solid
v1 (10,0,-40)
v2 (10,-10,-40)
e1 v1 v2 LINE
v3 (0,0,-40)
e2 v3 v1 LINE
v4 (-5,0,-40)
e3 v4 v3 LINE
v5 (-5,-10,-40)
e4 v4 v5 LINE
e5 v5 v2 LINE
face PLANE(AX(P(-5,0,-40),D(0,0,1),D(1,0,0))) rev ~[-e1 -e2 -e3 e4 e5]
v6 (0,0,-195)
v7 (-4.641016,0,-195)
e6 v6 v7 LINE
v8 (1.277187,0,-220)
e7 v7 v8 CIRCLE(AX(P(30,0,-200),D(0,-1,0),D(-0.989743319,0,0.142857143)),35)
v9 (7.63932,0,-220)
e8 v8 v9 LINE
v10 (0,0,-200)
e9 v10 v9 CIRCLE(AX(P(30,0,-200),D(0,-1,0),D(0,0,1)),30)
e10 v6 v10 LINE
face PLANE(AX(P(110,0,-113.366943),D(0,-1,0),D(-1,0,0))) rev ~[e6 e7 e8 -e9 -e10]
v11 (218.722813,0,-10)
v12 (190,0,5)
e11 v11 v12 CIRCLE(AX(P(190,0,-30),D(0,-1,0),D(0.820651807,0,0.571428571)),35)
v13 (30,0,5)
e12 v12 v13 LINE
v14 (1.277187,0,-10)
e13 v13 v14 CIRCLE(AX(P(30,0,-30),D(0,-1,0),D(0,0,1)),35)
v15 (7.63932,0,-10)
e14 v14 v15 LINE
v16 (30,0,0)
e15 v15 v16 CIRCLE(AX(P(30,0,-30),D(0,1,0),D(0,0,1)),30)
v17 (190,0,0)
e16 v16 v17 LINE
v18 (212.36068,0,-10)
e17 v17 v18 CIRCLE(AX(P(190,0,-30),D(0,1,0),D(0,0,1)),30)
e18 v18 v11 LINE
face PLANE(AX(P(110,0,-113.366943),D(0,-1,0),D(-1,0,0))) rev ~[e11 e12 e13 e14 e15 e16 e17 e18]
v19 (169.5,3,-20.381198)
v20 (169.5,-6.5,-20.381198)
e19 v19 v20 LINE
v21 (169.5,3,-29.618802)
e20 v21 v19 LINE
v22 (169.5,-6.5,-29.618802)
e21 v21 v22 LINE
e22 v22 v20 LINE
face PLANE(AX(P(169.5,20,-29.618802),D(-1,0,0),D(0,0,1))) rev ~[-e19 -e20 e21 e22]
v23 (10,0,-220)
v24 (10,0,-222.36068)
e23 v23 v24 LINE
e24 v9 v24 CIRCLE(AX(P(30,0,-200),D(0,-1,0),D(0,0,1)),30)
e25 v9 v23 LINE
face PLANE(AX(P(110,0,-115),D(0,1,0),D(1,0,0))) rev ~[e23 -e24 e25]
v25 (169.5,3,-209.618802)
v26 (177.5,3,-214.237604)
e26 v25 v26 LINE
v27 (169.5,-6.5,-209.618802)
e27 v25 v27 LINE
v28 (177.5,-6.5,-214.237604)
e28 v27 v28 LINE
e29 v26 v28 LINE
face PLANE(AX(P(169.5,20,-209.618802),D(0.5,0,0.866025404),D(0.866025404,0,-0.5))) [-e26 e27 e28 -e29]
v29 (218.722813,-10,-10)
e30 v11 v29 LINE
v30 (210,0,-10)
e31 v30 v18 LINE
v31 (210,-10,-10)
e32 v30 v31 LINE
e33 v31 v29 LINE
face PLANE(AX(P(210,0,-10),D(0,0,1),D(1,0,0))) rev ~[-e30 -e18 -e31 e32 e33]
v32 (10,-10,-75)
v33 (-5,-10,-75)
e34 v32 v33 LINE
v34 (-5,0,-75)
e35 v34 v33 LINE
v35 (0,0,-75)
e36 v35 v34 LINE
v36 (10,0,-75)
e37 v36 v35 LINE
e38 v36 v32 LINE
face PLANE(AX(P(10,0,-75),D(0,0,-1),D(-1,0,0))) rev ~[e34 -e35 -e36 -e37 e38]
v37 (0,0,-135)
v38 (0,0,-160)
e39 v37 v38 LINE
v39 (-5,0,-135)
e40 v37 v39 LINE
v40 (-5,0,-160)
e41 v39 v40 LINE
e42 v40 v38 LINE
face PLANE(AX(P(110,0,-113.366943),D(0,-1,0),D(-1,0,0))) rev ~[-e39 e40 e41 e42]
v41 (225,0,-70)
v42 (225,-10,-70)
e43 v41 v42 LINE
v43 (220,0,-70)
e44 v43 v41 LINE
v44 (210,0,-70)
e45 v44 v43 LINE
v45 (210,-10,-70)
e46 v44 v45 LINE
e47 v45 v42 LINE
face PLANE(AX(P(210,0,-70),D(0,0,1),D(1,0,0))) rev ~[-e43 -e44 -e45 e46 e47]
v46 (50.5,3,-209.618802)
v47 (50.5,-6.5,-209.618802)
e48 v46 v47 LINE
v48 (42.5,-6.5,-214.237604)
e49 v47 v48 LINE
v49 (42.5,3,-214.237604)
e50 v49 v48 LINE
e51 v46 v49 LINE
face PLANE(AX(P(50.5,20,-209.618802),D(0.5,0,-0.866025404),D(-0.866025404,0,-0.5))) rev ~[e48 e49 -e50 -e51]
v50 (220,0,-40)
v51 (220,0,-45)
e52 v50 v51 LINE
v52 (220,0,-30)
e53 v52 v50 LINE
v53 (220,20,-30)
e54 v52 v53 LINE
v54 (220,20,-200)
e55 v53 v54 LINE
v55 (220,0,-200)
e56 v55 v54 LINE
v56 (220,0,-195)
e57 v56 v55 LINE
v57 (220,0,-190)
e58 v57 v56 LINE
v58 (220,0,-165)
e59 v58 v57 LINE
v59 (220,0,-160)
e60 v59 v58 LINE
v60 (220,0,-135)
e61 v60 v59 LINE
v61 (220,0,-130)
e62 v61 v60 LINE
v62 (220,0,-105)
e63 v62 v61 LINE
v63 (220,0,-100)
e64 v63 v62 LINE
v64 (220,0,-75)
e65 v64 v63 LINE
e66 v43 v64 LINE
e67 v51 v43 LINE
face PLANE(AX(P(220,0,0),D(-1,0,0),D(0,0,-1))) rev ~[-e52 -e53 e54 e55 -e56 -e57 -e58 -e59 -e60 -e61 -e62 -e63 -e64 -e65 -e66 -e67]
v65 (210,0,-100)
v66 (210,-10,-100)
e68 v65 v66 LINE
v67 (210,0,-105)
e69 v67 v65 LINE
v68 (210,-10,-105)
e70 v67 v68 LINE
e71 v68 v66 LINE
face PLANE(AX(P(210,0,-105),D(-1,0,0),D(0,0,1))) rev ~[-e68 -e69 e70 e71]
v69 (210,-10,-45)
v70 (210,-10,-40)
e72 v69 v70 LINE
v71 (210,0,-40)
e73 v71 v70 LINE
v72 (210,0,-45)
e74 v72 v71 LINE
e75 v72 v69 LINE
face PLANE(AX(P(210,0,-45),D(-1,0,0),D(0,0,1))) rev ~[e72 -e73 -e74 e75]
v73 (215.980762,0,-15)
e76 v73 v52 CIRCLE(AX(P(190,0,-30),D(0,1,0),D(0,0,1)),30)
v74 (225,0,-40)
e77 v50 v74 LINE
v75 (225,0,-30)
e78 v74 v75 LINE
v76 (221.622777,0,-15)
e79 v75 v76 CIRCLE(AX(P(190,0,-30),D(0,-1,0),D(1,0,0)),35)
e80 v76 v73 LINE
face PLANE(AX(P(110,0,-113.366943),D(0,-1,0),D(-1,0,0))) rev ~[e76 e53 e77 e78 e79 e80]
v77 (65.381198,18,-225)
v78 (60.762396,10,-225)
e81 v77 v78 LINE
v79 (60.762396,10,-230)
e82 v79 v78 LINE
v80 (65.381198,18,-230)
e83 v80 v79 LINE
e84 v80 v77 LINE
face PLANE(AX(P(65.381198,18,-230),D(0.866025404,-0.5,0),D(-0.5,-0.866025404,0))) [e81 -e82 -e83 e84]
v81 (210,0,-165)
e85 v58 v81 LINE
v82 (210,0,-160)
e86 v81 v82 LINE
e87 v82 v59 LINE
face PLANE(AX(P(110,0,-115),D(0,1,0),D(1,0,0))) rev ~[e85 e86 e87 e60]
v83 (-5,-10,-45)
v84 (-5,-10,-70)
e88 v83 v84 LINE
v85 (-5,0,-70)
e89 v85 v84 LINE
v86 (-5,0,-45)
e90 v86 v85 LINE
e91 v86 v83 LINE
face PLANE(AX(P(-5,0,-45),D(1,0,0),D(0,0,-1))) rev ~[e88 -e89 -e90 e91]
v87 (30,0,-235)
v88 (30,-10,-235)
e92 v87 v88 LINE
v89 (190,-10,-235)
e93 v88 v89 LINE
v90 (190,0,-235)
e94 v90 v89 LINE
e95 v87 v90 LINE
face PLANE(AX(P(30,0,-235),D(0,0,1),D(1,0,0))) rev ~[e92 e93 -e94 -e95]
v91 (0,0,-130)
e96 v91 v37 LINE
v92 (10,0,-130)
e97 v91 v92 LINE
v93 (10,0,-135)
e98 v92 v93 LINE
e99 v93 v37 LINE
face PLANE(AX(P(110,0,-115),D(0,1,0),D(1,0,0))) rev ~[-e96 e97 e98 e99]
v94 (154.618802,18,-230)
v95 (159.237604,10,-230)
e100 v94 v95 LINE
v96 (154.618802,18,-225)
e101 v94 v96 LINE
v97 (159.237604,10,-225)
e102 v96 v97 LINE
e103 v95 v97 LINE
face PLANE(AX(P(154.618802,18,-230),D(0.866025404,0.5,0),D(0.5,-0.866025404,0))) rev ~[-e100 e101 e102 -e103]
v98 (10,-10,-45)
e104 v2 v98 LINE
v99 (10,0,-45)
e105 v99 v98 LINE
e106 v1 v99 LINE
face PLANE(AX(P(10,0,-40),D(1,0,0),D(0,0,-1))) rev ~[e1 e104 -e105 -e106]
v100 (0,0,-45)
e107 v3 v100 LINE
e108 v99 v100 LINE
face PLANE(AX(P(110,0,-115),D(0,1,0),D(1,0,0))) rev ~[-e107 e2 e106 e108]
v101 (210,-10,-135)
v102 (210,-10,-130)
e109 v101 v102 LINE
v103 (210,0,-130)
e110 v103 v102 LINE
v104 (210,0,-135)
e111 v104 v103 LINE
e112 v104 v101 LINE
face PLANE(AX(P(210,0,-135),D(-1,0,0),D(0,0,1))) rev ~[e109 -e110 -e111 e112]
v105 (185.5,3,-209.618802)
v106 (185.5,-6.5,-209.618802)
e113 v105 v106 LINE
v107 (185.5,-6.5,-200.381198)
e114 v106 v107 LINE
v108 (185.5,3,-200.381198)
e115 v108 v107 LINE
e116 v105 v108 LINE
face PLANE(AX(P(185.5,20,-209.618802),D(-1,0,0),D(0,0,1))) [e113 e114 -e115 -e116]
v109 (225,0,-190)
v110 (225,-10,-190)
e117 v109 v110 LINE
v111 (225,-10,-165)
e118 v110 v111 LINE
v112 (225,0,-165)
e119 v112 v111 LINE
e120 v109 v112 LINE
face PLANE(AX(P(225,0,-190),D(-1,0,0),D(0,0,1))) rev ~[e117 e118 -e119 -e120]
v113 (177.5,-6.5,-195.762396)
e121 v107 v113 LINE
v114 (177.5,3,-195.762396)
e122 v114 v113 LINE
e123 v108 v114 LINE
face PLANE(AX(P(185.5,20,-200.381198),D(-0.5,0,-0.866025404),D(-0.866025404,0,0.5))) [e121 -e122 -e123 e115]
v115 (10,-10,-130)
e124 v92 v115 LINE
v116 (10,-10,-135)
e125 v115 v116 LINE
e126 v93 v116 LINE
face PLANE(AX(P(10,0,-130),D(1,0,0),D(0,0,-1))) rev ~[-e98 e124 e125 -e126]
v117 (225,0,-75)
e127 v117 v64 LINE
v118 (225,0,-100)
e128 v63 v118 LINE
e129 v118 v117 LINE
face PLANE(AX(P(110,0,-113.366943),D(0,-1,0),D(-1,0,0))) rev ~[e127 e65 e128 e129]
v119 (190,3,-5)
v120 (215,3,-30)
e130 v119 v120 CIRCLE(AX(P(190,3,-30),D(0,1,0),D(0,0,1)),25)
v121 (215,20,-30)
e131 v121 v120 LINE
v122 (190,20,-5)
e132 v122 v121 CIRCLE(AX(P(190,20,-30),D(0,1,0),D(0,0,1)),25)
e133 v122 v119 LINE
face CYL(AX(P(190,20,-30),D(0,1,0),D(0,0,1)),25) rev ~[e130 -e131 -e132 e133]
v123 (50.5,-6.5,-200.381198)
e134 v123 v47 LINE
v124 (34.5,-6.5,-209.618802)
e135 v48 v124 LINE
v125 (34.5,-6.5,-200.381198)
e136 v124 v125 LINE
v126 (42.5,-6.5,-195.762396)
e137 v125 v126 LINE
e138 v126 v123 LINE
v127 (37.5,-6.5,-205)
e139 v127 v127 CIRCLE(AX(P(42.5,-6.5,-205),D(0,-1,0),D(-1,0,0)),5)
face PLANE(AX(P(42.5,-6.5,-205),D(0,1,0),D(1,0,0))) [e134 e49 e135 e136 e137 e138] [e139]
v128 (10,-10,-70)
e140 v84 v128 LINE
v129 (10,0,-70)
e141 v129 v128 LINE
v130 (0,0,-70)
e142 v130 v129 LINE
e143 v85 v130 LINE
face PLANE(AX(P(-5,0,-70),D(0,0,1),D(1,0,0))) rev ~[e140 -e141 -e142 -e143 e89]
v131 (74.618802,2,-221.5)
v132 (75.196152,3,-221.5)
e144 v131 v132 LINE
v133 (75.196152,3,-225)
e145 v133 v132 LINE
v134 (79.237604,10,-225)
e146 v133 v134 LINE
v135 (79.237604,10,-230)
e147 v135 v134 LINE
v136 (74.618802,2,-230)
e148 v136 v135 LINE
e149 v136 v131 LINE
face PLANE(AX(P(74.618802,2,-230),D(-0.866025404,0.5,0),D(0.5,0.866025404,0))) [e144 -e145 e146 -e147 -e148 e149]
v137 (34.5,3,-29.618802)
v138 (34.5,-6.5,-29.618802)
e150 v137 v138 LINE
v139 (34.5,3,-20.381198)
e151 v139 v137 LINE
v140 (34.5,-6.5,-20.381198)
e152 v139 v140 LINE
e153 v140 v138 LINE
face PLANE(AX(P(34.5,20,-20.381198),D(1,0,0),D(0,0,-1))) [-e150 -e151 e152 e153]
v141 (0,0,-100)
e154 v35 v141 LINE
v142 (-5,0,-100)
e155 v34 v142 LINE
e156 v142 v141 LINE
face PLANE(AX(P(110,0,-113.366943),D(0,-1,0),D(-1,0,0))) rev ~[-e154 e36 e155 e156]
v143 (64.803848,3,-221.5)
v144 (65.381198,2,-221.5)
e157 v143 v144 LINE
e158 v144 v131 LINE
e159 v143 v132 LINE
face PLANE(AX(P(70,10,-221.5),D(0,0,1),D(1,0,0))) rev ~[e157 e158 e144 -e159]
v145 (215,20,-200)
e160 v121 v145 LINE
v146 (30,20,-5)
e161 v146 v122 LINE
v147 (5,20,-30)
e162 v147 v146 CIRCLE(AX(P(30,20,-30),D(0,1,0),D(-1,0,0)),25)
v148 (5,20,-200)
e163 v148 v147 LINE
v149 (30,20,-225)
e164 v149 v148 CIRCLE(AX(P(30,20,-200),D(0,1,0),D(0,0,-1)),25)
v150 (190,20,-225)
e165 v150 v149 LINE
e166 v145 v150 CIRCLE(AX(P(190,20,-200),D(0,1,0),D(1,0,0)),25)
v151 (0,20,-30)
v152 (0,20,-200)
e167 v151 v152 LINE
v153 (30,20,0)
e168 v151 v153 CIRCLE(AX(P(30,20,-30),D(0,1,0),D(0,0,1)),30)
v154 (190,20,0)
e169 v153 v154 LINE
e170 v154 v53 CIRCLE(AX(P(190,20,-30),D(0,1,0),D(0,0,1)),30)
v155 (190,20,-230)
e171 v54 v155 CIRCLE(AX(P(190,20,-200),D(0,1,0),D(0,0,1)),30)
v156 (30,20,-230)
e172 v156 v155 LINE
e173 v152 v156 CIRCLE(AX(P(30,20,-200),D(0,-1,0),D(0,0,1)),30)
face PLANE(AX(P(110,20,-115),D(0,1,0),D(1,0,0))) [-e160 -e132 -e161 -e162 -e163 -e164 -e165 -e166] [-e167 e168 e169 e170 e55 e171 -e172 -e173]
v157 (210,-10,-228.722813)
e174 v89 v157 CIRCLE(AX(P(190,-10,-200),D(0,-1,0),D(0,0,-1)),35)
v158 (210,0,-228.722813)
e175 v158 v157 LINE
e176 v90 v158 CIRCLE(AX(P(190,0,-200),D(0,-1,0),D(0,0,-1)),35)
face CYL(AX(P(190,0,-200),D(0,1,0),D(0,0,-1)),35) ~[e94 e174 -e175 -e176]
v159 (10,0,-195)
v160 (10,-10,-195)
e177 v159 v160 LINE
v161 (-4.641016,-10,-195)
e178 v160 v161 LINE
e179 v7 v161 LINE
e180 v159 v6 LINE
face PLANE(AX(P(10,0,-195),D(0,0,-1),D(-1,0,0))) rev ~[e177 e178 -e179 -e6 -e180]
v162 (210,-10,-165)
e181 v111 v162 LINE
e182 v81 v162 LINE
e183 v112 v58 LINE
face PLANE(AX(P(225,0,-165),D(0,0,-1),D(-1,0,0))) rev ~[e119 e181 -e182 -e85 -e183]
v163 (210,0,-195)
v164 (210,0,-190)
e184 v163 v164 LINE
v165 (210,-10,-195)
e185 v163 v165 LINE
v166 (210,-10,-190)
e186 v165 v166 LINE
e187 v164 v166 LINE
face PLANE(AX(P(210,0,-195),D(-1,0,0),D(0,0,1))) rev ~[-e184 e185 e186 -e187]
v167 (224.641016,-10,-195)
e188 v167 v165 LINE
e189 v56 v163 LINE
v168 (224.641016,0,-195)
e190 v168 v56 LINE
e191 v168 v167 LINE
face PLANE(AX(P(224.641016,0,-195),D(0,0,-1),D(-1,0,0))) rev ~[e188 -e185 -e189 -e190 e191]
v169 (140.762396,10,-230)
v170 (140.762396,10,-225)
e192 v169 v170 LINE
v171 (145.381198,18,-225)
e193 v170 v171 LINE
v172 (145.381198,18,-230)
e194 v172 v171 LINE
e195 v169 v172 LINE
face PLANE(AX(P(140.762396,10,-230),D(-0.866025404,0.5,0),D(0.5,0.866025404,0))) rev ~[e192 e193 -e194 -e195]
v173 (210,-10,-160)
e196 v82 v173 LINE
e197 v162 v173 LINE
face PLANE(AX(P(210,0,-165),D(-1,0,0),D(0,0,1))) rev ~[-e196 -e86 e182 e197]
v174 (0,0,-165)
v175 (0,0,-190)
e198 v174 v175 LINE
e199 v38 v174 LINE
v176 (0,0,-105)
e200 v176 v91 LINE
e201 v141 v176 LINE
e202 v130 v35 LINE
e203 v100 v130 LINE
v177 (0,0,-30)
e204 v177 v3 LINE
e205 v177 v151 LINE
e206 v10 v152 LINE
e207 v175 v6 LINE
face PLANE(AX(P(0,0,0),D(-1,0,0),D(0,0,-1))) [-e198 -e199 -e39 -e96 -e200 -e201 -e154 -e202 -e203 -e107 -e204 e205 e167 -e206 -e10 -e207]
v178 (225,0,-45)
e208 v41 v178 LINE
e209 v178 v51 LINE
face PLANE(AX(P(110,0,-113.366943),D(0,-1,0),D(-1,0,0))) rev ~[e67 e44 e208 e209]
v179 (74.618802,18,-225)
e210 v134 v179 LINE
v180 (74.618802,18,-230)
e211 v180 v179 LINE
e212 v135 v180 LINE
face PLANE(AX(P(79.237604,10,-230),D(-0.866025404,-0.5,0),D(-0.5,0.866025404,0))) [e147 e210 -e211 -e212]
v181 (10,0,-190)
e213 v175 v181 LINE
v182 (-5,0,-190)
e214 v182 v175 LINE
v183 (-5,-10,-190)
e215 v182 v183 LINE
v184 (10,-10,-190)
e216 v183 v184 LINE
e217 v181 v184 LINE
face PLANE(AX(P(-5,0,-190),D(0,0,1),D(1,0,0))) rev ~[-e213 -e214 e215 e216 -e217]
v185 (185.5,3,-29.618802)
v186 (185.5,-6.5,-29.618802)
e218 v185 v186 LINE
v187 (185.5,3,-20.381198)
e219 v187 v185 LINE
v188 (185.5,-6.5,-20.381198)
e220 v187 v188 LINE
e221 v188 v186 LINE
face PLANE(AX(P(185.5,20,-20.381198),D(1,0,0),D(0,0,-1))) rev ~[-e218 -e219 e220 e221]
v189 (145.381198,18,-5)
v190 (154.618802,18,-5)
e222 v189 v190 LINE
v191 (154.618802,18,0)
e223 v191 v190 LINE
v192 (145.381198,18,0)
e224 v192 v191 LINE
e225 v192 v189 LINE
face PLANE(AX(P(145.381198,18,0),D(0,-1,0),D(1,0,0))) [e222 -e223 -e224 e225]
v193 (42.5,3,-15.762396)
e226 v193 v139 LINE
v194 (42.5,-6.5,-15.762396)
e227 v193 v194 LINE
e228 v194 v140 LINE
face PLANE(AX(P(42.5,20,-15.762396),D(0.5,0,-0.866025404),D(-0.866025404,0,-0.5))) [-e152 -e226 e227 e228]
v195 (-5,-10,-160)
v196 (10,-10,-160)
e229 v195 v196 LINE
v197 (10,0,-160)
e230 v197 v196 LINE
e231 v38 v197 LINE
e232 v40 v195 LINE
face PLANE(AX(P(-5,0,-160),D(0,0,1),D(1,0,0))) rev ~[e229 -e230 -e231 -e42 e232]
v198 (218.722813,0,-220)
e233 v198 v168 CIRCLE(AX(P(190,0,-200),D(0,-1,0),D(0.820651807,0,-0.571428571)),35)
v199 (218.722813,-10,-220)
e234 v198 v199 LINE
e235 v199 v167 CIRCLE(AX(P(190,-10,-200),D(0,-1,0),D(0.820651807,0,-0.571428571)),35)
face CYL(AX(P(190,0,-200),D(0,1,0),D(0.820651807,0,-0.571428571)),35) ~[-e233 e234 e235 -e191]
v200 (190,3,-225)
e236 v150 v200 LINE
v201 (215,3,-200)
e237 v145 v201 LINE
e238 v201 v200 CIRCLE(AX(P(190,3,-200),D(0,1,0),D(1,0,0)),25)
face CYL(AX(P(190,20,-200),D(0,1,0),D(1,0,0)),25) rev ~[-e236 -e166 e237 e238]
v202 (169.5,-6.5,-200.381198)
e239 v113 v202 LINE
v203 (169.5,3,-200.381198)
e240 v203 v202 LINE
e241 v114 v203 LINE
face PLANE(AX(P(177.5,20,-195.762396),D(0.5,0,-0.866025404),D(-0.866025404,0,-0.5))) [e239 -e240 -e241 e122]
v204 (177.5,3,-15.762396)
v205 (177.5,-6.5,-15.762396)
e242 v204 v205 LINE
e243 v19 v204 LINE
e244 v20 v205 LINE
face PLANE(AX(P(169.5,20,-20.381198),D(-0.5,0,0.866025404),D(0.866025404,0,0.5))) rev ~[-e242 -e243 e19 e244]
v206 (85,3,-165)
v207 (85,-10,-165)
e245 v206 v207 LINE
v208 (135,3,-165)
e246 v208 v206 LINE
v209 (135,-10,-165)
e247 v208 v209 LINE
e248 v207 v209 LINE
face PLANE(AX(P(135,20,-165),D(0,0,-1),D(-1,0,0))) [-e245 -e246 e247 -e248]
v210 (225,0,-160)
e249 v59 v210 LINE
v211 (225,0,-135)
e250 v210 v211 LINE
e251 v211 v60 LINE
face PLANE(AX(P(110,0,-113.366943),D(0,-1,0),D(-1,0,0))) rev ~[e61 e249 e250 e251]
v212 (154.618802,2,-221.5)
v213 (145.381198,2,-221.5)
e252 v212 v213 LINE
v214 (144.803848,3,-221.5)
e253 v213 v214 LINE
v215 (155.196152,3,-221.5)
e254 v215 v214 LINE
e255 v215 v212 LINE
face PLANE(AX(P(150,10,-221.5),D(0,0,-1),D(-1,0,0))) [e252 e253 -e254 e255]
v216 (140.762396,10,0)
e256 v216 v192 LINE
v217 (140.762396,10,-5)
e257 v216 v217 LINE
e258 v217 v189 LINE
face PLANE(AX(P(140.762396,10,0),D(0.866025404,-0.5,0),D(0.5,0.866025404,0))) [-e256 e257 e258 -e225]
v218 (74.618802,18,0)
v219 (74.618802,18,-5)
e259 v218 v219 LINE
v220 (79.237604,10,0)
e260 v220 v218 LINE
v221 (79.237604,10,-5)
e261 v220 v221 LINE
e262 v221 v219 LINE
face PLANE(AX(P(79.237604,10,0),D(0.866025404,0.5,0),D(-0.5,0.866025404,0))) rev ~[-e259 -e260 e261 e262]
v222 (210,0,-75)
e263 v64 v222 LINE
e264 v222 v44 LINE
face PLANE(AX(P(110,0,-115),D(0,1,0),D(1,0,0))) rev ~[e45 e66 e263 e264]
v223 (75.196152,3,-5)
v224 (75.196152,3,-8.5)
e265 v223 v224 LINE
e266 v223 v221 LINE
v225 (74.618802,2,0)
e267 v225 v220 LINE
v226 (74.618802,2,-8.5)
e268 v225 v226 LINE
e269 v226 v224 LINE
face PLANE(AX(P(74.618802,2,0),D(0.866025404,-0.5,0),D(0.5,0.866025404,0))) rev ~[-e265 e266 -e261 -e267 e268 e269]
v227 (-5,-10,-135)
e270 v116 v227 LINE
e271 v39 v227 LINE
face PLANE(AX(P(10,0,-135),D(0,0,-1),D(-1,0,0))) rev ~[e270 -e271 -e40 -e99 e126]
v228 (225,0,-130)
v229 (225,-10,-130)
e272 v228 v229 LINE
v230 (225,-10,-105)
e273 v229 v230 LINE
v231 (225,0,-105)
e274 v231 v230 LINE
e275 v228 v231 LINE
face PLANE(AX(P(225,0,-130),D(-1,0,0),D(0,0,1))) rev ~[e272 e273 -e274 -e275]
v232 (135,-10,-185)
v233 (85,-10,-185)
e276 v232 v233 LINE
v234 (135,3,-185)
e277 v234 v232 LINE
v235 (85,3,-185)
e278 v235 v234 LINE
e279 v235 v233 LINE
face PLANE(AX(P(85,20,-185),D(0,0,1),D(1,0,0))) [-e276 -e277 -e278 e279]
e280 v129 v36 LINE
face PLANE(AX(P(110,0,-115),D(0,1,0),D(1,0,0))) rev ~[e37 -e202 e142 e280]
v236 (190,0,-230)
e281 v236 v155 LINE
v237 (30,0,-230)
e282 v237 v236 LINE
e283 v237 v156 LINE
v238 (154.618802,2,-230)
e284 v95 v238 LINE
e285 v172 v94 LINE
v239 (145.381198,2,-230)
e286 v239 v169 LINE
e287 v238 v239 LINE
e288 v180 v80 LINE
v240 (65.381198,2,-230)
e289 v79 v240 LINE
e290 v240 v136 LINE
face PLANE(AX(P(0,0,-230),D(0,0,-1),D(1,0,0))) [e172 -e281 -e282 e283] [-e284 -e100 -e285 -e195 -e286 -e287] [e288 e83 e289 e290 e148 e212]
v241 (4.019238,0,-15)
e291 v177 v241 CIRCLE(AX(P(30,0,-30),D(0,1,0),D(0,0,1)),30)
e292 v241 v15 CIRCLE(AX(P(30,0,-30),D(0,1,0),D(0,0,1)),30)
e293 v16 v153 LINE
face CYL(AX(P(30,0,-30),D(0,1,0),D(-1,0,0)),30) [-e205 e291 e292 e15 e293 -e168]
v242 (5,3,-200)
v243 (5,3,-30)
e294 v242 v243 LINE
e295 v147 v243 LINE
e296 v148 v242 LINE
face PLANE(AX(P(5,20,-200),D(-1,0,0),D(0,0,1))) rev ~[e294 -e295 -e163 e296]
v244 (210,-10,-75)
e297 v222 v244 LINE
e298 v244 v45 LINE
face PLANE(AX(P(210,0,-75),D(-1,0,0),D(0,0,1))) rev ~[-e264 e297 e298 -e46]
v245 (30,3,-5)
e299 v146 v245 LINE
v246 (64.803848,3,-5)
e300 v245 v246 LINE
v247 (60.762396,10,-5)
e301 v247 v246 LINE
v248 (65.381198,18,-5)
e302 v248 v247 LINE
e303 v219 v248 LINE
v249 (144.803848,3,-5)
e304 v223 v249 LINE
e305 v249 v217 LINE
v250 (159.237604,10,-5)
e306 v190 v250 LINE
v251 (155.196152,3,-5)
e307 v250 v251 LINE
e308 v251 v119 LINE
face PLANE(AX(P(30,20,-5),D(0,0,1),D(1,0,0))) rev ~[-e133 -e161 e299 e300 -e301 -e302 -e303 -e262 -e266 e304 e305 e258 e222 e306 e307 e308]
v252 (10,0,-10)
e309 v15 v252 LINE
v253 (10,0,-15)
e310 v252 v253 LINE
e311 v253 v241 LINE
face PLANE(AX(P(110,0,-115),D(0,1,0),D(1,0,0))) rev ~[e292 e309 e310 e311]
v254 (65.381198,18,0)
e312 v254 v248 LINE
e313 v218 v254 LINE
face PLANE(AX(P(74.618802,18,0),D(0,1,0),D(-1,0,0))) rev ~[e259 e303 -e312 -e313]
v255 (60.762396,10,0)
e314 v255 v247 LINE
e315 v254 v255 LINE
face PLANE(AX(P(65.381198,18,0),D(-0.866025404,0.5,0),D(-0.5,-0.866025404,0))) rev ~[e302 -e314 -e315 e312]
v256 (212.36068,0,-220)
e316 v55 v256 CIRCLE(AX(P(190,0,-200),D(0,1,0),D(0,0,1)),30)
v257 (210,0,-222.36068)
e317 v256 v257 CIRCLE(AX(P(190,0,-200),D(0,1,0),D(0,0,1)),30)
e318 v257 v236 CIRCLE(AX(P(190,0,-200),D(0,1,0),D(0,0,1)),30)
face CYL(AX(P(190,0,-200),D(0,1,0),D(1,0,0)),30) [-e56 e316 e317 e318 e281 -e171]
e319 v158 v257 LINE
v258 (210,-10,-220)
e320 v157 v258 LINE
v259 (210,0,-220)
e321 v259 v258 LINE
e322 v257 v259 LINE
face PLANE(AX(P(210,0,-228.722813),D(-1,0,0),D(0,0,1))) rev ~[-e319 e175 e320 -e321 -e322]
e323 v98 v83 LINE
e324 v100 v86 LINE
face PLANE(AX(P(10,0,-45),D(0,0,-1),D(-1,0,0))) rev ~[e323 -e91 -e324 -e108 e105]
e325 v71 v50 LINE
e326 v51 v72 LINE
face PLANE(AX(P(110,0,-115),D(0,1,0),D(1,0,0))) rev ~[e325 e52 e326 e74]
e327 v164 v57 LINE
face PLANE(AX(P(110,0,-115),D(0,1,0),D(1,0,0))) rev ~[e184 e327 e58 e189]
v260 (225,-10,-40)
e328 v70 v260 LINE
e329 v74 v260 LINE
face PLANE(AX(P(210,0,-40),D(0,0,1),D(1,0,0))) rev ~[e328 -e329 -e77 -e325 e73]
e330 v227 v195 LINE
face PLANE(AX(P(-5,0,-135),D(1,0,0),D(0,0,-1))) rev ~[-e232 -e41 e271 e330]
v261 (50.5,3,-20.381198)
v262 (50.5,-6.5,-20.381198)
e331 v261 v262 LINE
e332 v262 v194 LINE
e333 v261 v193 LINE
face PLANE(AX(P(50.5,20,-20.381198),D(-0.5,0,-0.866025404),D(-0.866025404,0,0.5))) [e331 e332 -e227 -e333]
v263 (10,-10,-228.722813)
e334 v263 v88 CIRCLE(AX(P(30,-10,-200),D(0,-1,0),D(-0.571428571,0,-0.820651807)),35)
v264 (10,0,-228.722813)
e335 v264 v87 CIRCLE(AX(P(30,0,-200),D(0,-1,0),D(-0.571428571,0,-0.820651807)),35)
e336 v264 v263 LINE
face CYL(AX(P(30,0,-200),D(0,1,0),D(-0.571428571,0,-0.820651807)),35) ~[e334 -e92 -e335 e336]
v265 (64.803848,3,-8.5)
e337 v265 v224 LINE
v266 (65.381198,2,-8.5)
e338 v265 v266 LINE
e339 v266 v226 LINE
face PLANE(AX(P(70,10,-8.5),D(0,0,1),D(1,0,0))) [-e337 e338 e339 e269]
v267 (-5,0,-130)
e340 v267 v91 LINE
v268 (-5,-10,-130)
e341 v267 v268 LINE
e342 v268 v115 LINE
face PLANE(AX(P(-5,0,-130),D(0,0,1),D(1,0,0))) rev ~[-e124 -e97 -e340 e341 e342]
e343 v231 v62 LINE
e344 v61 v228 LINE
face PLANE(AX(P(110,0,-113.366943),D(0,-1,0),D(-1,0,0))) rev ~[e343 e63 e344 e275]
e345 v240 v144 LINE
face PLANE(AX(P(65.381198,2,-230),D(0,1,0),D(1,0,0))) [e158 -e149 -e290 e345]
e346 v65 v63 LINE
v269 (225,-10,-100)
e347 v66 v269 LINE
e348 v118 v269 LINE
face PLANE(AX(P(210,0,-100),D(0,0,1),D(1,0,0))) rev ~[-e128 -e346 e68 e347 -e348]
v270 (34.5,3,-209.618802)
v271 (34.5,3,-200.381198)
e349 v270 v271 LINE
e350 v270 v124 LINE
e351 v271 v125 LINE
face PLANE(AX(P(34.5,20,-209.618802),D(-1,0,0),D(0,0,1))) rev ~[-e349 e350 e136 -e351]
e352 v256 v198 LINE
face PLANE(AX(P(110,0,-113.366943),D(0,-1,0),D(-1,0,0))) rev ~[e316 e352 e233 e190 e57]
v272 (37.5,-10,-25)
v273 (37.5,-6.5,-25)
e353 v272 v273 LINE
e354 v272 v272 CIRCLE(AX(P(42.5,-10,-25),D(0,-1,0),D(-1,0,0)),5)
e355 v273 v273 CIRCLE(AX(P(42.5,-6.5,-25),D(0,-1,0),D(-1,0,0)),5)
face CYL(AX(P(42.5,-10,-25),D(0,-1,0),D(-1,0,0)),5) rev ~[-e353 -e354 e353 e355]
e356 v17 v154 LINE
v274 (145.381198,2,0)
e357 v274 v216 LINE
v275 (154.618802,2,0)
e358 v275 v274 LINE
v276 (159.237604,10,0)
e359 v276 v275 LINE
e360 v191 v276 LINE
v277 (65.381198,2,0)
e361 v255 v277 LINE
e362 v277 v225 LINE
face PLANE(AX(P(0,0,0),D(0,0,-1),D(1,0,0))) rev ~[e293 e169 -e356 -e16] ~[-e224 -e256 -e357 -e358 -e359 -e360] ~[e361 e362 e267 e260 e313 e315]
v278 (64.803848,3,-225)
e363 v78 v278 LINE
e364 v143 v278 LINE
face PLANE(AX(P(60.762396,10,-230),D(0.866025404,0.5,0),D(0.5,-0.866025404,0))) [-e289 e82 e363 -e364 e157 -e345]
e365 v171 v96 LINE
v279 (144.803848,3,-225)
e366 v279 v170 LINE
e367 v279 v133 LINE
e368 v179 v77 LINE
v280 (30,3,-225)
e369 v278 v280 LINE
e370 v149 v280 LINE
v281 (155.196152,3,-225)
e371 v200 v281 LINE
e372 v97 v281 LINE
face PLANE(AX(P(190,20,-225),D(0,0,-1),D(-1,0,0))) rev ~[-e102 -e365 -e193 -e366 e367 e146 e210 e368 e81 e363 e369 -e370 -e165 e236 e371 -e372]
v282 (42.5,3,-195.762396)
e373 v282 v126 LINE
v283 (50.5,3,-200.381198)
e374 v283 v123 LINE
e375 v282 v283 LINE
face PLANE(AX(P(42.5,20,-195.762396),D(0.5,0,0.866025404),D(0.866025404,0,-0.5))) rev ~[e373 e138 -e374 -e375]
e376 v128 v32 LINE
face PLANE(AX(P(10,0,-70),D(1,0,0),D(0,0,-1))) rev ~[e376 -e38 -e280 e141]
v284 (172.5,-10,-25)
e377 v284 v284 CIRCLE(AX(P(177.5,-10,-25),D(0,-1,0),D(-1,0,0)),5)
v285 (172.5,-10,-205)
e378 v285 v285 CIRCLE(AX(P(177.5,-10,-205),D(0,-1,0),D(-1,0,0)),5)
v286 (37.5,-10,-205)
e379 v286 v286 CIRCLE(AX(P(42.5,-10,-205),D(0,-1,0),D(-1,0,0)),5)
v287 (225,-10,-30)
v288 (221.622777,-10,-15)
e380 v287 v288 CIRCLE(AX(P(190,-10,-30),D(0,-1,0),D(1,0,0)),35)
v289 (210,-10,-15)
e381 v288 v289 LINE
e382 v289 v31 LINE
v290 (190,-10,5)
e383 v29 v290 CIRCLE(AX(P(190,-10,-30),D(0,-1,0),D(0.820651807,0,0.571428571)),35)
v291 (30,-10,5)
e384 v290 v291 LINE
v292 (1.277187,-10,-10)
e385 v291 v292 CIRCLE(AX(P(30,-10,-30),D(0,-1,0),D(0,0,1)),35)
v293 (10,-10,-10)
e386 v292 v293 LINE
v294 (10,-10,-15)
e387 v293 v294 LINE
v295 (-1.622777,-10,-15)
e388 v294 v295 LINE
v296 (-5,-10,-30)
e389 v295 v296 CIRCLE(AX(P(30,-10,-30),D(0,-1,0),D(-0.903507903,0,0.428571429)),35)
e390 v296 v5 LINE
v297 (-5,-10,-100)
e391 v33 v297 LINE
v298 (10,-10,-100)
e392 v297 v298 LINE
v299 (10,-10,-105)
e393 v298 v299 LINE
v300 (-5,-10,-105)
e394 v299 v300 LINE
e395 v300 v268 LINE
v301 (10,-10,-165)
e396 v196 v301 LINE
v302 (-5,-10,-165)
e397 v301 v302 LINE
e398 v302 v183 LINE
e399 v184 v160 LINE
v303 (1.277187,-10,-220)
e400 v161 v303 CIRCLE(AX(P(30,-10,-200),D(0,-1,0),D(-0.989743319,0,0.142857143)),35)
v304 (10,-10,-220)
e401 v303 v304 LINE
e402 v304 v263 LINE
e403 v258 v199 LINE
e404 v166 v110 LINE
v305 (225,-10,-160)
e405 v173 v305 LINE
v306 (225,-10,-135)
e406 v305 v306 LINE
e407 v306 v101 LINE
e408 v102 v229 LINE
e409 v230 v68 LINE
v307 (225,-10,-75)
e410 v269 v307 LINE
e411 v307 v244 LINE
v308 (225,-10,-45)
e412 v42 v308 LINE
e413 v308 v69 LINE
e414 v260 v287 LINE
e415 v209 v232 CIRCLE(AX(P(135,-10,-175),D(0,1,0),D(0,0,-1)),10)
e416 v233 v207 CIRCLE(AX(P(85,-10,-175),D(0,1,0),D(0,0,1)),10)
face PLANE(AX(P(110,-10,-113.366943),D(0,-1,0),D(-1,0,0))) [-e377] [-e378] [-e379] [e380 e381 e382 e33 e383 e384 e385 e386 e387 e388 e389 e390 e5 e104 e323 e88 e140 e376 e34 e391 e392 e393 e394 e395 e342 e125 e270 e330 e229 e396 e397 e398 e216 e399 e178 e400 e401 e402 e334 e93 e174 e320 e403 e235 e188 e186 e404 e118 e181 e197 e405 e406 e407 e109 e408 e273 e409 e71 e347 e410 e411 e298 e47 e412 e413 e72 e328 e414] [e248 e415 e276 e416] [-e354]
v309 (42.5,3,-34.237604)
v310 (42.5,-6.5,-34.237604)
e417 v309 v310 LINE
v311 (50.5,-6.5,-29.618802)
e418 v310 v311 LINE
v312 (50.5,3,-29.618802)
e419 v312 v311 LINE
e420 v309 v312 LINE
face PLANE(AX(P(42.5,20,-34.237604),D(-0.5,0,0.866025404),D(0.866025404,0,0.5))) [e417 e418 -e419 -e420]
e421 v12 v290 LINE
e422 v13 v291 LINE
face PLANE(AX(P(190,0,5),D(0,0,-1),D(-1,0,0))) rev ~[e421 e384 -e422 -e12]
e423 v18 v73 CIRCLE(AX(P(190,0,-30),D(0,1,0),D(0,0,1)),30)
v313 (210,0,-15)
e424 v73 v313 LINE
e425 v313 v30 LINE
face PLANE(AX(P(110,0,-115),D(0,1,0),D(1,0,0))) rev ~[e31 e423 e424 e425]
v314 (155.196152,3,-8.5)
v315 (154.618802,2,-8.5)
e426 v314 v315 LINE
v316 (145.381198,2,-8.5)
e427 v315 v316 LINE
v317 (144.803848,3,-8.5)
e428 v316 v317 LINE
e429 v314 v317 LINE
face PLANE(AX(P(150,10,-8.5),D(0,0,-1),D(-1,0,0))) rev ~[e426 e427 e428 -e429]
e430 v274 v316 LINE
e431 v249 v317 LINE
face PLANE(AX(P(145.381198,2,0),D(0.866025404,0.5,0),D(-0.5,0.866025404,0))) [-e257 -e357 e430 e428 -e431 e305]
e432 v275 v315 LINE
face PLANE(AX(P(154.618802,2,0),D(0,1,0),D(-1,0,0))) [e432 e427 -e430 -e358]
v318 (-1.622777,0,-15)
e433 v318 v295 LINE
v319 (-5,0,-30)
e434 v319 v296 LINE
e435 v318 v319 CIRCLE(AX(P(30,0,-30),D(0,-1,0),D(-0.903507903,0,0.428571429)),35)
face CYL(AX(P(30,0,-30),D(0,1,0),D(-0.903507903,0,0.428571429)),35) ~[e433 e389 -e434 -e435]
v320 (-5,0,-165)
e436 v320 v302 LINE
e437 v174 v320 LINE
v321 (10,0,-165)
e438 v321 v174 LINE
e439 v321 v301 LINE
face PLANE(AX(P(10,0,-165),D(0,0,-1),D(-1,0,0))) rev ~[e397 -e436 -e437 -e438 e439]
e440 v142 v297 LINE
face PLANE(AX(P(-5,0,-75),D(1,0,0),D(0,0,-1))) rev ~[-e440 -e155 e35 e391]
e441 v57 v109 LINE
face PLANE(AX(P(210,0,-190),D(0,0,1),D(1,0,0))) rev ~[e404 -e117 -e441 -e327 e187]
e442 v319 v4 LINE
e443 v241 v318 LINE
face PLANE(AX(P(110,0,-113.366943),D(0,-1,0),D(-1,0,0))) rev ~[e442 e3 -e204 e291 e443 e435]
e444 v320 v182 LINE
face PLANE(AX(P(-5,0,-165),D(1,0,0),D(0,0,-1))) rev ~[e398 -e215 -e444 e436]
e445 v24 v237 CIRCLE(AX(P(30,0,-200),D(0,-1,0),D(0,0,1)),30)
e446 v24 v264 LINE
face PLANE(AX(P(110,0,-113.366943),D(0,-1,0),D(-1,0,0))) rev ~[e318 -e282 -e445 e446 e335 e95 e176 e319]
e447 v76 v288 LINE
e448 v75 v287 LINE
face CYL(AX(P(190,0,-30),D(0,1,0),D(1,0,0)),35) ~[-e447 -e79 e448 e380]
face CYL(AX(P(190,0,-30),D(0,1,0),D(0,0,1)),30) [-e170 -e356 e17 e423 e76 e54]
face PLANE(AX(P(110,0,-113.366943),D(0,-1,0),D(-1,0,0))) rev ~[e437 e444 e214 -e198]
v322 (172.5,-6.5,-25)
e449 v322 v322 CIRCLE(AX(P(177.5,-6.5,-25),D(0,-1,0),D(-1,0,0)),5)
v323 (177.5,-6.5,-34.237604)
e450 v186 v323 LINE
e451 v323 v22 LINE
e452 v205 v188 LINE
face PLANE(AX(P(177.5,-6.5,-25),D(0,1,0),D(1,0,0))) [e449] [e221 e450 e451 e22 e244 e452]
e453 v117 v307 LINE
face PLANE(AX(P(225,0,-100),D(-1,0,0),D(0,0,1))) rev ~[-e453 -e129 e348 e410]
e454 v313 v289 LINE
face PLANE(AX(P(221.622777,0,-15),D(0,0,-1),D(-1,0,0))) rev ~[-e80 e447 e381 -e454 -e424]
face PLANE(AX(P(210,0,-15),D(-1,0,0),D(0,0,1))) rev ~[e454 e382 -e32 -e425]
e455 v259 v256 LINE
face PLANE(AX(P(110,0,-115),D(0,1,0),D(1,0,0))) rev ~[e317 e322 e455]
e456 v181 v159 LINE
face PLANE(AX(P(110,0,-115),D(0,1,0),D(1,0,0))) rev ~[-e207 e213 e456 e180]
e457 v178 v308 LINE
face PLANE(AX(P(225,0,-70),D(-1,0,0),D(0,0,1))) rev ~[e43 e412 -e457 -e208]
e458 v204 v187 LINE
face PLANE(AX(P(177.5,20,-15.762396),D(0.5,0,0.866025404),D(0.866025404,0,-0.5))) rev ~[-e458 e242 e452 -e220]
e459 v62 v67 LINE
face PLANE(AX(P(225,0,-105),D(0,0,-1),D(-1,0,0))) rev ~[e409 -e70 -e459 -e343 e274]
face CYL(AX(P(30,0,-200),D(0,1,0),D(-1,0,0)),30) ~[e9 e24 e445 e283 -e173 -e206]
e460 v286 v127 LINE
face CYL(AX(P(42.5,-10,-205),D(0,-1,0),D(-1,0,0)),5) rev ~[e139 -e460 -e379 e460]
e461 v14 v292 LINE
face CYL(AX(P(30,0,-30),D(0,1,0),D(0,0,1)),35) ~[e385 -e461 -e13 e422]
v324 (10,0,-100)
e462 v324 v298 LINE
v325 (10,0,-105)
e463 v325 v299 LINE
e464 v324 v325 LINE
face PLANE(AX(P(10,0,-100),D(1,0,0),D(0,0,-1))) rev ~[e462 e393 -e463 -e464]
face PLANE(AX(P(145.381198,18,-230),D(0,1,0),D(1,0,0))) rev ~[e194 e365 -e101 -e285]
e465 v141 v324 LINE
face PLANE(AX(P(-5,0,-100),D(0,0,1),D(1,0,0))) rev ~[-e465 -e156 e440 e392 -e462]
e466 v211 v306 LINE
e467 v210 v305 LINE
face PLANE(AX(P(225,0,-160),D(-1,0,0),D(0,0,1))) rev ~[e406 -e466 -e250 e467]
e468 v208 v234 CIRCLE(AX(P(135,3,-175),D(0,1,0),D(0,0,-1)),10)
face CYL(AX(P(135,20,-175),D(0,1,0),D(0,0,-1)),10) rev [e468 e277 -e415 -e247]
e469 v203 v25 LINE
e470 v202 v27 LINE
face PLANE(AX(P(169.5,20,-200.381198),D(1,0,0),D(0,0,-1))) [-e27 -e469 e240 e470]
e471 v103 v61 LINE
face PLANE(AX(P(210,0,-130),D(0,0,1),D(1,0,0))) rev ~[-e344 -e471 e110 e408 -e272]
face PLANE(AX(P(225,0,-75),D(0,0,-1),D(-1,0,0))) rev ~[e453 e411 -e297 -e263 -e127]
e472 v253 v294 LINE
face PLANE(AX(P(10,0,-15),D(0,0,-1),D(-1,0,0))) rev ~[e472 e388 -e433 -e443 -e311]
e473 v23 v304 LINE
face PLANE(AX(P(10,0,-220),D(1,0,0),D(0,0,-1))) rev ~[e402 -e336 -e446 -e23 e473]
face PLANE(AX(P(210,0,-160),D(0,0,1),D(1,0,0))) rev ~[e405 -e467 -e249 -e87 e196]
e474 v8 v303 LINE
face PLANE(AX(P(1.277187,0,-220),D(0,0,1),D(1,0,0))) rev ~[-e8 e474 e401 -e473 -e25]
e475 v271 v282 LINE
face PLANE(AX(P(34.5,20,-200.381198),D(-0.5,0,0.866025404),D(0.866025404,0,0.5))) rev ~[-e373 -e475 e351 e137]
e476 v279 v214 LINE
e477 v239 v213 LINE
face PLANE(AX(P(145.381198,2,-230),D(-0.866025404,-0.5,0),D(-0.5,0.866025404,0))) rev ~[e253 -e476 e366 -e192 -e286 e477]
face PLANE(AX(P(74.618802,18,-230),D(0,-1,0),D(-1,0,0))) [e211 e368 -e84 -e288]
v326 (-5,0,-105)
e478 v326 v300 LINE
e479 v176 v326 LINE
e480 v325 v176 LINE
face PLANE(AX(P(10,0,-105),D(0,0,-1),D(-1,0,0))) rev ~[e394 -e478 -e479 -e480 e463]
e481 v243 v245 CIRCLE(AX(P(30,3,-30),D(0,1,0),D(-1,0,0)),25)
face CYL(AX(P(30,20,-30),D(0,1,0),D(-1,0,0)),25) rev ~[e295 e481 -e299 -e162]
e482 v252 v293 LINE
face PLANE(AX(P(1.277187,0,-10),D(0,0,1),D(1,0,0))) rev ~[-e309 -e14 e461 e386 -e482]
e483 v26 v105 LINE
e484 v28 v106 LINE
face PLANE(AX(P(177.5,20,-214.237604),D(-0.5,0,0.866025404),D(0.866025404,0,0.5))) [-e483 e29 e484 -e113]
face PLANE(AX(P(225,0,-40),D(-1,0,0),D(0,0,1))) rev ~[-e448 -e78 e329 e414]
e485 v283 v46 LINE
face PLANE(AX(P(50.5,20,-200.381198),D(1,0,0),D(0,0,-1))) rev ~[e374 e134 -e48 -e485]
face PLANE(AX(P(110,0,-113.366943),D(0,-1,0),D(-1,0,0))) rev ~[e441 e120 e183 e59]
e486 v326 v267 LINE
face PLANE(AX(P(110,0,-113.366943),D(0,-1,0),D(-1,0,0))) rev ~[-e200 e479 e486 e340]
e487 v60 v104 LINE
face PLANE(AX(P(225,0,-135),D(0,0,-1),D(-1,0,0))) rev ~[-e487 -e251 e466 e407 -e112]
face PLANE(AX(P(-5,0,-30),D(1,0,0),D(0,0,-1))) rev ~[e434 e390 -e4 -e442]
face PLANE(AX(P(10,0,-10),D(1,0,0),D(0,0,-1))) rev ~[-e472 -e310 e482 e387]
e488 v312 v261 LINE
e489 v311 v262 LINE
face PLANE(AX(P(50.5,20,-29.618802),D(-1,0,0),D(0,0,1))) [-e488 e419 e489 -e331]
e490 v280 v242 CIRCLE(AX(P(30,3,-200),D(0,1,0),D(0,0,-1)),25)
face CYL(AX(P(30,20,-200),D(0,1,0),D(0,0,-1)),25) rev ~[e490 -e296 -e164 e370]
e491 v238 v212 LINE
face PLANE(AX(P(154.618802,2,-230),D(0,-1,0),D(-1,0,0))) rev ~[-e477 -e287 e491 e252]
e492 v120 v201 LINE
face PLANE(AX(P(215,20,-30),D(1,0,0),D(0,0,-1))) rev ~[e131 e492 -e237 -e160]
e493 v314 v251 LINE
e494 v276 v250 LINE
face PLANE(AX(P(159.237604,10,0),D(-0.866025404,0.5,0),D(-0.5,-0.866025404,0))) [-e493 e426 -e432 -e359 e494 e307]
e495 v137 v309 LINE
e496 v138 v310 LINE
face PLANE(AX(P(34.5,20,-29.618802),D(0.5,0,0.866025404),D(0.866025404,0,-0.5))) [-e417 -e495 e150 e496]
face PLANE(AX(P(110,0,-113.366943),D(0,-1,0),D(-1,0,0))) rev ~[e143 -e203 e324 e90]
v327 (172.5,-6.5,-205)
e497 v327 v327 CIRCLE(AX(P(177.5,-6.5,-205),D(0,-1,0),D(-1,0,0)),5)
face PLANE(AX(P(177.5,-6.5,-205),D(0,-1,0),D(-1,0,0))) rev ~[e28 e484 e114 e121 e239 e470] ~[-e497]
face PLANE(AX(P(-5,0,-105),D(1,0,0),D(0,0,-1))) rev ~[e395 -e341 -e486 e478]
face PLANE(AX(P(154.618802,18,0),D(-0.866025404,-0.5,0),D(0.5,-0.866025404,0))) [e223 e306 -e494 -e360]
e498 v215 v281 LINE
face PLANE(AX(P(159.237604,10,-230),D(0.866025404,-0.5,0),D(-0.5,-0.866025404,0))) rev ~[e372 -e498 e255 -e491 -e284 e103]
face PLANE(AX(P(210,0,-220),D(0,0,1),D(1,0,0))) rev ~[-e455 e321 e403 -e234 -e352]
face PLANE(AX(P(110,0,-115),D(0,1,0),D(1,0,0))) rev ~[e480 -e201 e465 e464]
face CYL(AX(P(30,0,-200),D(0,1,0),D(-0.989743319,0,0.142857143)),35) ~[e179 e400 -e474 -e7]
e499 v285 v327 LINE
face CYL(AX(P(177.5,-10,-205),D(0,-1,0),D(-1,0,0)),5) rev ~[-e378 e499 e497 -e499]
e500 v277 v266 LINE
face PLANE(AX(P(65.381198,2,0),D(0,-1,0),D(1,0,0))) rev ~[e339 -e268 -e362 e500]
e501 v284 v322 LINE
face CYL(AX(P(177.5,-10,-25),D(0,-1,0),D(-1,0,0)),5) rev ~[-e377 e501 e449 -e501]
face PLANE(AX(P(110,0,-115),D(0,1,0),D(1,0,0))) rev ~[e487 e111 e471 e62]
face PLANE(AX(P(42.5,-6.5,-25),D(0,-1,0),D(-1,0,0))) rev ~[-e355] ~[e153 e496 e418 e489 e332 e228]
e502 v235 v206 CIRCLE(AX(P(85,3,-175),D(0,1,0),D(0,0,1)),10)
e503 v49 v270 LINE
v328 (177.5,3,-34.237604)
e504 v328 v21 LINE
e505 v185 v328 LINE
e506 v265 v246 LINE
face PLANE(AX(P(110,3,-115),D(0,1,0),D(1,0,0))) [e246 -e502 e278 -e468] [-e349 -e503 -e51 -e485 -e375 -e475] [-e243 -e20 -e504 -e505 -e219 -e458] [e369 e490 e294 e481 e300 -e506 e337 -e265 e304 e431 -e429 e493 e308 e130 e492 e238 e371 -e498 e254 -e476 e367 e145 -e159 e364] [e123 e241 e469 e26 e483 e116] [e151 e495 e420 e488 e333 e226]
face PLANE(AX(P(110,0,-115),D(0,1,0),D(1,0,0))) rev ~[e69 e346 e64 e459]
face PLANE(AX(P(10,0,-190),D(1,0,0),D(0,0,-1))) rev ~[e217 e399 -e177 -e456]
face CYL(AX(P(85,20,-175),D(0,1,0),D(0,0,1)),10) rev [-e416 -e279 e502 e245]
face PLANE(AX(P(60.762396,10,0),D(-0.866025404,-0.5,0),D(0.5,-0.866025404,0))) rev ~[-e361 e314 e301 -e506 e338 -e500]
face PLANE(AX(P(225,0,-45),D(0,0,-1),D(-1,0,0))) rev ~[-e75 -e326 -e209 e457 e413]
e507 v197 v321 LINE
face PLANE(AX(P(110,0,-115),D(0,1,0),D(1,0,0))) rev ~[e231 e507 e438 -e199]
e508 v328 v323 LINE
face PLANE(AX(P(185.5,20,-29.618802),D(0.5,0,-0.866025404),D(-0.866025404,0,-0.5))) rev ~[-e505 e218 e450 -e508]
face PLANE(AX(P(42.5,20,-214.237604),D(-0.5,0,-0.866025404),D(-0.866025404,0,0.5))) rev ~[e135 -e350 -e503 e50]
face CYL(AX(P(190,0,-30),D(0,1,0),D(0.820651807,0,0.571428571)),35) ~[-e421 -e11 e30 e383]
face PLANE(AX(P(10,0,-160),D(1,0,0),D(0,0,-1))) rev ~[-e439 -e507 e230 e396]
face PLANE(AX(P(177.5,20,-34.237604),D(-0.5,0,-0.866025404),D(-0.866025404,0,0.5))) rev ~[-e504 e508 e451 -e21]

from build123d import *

# Parameters (mm, degrees)
SKETCH1_W           = 220
SKETCH1_H           = 230
BOSS_EXTRUDE1_DEPTH = 20
FILLET1_R           = 30
BOSS_EXTRUDE4_DEPTH = 10
CUT_EXTRUDE10_DEPTH = 17
SKETCH7_R           = 5
CUT_EXTRUDE3_DEPTH  = 31
SKETCH8_R           = 5
CUT_EXTRUDE4_DEPTH  = 30
SKETCH13_R          = 5
CUT_EXTRUDE5_DEPTH  = 30
CUT_EXTRUDE6_DEPTH  = 8.5
CUT_EXTRUDE7_DEPTH  = 8.5
CUT_EXTRUDE8_DEPTH  = 26.5
CUT_EXTRUDE9_DEPTH  = 31


with BuildPart() as part:
    # Sketch1 → Boss-Extrude1 (new body)
    with BuildSketch(Plane(origin=(0, 0, 0), x_dir=(1, 0, 0), z_dir=(0, 1, 0))):
        with Locations((110, 115)):
            Rectangle(SKETCH1_W, SKETCH1_H)
    extrude(amount=BOSS_EXTRUDE1_DEPTH)

    # Fillet1
    fillet1_edges = [part.edges().sort_by_distance(p)[0] for p in [
        (0, 10, -230),
        (220, 10, -230),
        (220, 10, 0),
        (0, 10, 0),
    ]]
    fillet(fillet1_edges, radius=FILLET1_R)

    # Sketch4 → Boss-Extrude4 (add)
    with BuildSketch(Plane(origin=(0, 0, 0), x_dir=(-1, 0, 0), z_dir=(0, -1, 0))):
        with BuildLine():
            Line((-210, 10), (-218.722813233, 10))
            ThreePointArc((-218.722813233, 10), (-206.201851746, -1.024184115), (-190, -5))
            Line((-190, -5), (-30, -5))
            ThreePointArc((-30, -5), (-13.798148254, -1.024184115), (-1.277186767, 10))
            Line((-1.277186767, 10), (-10, 10))
            Line((-10, 10), (-10, 15))
            Line((-10, 15), (1.622776602, 15))
            ThreePointArc((1.622776602, 15), (4.145257219, 22.312255892), (5, 30))
            Line((5, 30), (5, 40))
            Line((5, 40), (-10, 40))
            Line((-10, 40), (-10, 45))
            Line((-10, 45), (5, 45))
            Line((5, 45), (5, 70))
            Line((5, 70), (-10, 70))
            Line((-10, 70), (-10, 75))
            Line((-10, 75), (5, 75))
            Line((5, 75), (5, 100))
            Line((5, 100), (-10, 100))
            Line((-10, 100), (-10, 105))
            Line((-10, 105), (5, 105))
            Line((5, 105), (5, 130))
            Line((5, 130), (-10, 130))
            Line((-10, 130), (-10, 135))
            Line((-10, 135), (5, 135))
            Line((5, 135), (5, 160))
            Line((5, 160), (-10, 160))
            Line((-10, 160), (-10, 165))
            Line((-10, 165), (5, 165))
            Line((5, 165), (5, 190))
            Line((5, 190), (-10, 190))
            Line((-10, 190), (-10, 195))
            Line((-10, 195), (4.641016151, 195))
            ThreePointArc((4.641016151, 195), (4.058680517, 208.062647298), (-1.277186767, 220))
            Line((-1.277186767, 220), (-10, 220))
            Line((-10, 220), (-10, 228.722813233))
            ThreePointArc((-10, 228.722813233), (-19.519028269, 233.393850206), (-30, 235))
            Line((-30, 235), (-190, 235))
            ThreePointArc((-190, 235), (-200.480971731, 233.393850206), (-210, 228.722813233))
            Line((-210, 228.722813233), (-210, 220))
            Line((-210, 220), (-218.722813233, 220))
            ThreePointArc((-218.722813233, 220), (-224.058680517, 208.062647298), (-224.641016151, 195))
            Line((-224.641016151, 195), (-210, 195))
            Line((-210, 195), (-210, 190))
            Line((-210, 190), (-225, 190))
            Line((-225, 190), (-225, 165))
            Line((-225, 165), (-210, 165))
            Line((-210, 165), (-210, 160))
            Line((-210, 160), (-225, 160))
            Line((-225, 160), (-225, 135))
            Line((-225, 135), (-210, 135))
            Line((-210, 135), (-210, 130))
            Line((-210, 130), (-225, 130))
            Line((-225, 130), (-225, 105))
            Line((-225, 105), (-210, 105))
            Line((-210, 105), (-210, 100))
            Line((-210, 100), (-225, 100))
            Line((-225, 100), (-225, 75))
            Line((-225, 75), (-210, 75))
            Line((-210, 75), (-210, 70))
            Line((-210, 70), (-225, 70))
            Line((-225, 70), (-225, 45))
            Line((-225, 45), (-210, 45))
            Line((-210, 45), (-210, 40))
            Line((-210, 40), (-225, 40))
            Line((-225, 40), (-225, 30))
            ThreePointArc((-225, 30), (-224.145257219, 22.312255892), (-221.622776602, 15))
            Line((-221.622776602, 15), (-210, 15))
            Line((-210, 15), (-210, 10))
        make_face()
    extrude(amount=BOSS_EXTRUDE4_DEPTH)

    # Sketch20 → Cut-Extrude10 (cut)
    with BuildSketch(Plane(origin=(0, 20, 0), x_dir=(1, 0, 0), z_dir=(0, 1, 0))):
        with BuildLine():
            Line((215, 30), (215, 200))
            ThreePointArc((215, 200), (207.67766953, 217.67766953), (190, 225))
            Line((190, 225), (30, 225))
            ThreePointArc((30, 225), (12.32233047, 217.67766953), (5, 200))
            Line((5, 200), (5, 30))
            ThreePointArc((5, 30), (12.32233047, 12.32233047), (30, 5))
            Line((30, 5), (190, 5))
            ThreePointArc((190, 5), (207.67766953, 12.32233047), (215, 30))
        make_face()
    extrude(amount=-CUT_EXTRUDE10_DEPTH, mode=Mode.SUBTRACT)

    # Sketch7 → Cut-Extrude3 (cut, through all)
    with BuildSketch(Plane(origin=(0, -10, 0), x_dir=(-1, 0, 0), z_dir=(0, -1, 0))):
        with Locations((-42.5, 25)):
            Circle(SKETCH7_R)
        with Locations((-177.5, 25)):
            Circle(SKETCH7_R)
        with Locations((-177.5, 205)):
            Circle(SKETCH7_R)
        with Locations((-42.5, 205)):
            Circle(SKETCH7_R)
    extrude(amount=-CUT_EXTRUDE3_DEPTH, mode=Mode.SUBTRACT)

    # Sketch8 → Cut-Extrude4 (cut)
    with BuildSketch(Plane(origin=(0, 0, -230), x_dir=(-1, 0, 0), z_dir=(0, 0, -1))):
        with Locations((-150, 10)):
            Circle(SKETCH8_R)
        with Locations((-70, 10)):
            Circle(SKETCH8_R)
    extrude(amount=-CUT_EXTRUDE4_DEPTH, mode=Mode.SUBTRACT)

    # Sketch13 → Cut-Extrude5 (cut)
    with BuildSketch(Plane.XY):
        with Locations((70, 10)):
            Circle(SKETCH13_R)
        with Locations((150, 10)):
            Circle(SKETCH13_R)
    extrude(amount=-CUT_EXTRUDE5_DEPTH, mode=Mode.SUBTRACT)

    # Sketch17 → Cut-Extrude6 (cut)
    with BuildSketch(Plane.XY):
        Polygon((60.762395693, 10), (65.381197846, 2), (74.618802154, 2), (79.237604307, 10), (74.618802154, 18), (65.381197846, 18), align=None)
        Polygon((154.618802154, 18), (159.237604307, 10), (154.618802154, 2), (145.381197846, 2), (140.762395693, 10), (145.381197846, 18), align=None)
    extrude(amount=-CUT_EXTRUDE6_DEPTH, mode=Mode.SUBTRACT)

    # Sketch16 → Cut-Extrude7 (cut)
    with BuildSketch(Plane(origin=(0, 0, -230), x_dir=(-1, 0, 0), z_dir=(0, 0, -1))):
        Polygon((-159.237604307, 10), (-154.618802154, 2), (-145.381197846, 2), (-140.762395693, 10), (-145.381197846, 18), (-154.618802154, 18), align=None)
        Polygon((-65.381197846, 18), (-60.762395693, 10), (-65.381197846, 2), (-74.618802154, 2), (-79.237604307, 10), (-74.618802154, 18), align=None)
    extrude(amount=-CUT_EXTRUDE7_DEPTH, mode=Mode.SUBTRACT)

    # Sketch18 → Cut-Extrude8 (cut)
    with BuildSketch(Plane(origin=(0, 20, 0), x_dir=(1, 0, 0), z_dir=(0, 1, 0))):
        Polygon((42.5, 195.762395693), (50.5, 200.381197846), (50.5, 209.618802154), (42.5, 214.237604307), (34.5, 209.618802154), (34.5, 200.381197846), align=None)
        Polygon((185.5, 200.381197846), (177.5, 195.762395693), (169.5, 200.381197846), (169.5, 209.618802154), (177.5, 214.237604307), (185.5, 209.618802154), align=None)
        Polygon((185.5, 20.381197846), (185.5, 29.618802154), (177.5, 34.237604307), (169.5, 29.618802154), (169.5, 20.381197846), (177.5, 15.762395693), align=None)
        Polygon((34.5, 29.618802154), (42.5, 34.237604307), (50.5, 29.618802154), (50.5, 20.381197846), (42.5, 15.762395693), (34.5, 20.381197846), align=None)
    extrude(amount=-CUT_EXTRUDE8_DEPTH, mode=Mode.SUBTRACT)

    # Sketch19 → Cut-Extrude9 (cut, through all)
    with BuildSketch(Plane(origin=(0, 20, 0), x_dir=(1, 0, 0), z_dir=(0, 1, 0))):
        with BuildLine():
            Line((85, 185), (135, 185))
            ThreePointArc((135, 185), (145, 175), (135, 165))
            Line((135, 165), (85, 165))
            ThreePointArc((85, 165), (75, 175), (85, 185))
        make_face()
    extrude(amount=-CUT_EXTRUDE9_DEPTH, mode=Mode.SUBTRACT)


solid = part.part
